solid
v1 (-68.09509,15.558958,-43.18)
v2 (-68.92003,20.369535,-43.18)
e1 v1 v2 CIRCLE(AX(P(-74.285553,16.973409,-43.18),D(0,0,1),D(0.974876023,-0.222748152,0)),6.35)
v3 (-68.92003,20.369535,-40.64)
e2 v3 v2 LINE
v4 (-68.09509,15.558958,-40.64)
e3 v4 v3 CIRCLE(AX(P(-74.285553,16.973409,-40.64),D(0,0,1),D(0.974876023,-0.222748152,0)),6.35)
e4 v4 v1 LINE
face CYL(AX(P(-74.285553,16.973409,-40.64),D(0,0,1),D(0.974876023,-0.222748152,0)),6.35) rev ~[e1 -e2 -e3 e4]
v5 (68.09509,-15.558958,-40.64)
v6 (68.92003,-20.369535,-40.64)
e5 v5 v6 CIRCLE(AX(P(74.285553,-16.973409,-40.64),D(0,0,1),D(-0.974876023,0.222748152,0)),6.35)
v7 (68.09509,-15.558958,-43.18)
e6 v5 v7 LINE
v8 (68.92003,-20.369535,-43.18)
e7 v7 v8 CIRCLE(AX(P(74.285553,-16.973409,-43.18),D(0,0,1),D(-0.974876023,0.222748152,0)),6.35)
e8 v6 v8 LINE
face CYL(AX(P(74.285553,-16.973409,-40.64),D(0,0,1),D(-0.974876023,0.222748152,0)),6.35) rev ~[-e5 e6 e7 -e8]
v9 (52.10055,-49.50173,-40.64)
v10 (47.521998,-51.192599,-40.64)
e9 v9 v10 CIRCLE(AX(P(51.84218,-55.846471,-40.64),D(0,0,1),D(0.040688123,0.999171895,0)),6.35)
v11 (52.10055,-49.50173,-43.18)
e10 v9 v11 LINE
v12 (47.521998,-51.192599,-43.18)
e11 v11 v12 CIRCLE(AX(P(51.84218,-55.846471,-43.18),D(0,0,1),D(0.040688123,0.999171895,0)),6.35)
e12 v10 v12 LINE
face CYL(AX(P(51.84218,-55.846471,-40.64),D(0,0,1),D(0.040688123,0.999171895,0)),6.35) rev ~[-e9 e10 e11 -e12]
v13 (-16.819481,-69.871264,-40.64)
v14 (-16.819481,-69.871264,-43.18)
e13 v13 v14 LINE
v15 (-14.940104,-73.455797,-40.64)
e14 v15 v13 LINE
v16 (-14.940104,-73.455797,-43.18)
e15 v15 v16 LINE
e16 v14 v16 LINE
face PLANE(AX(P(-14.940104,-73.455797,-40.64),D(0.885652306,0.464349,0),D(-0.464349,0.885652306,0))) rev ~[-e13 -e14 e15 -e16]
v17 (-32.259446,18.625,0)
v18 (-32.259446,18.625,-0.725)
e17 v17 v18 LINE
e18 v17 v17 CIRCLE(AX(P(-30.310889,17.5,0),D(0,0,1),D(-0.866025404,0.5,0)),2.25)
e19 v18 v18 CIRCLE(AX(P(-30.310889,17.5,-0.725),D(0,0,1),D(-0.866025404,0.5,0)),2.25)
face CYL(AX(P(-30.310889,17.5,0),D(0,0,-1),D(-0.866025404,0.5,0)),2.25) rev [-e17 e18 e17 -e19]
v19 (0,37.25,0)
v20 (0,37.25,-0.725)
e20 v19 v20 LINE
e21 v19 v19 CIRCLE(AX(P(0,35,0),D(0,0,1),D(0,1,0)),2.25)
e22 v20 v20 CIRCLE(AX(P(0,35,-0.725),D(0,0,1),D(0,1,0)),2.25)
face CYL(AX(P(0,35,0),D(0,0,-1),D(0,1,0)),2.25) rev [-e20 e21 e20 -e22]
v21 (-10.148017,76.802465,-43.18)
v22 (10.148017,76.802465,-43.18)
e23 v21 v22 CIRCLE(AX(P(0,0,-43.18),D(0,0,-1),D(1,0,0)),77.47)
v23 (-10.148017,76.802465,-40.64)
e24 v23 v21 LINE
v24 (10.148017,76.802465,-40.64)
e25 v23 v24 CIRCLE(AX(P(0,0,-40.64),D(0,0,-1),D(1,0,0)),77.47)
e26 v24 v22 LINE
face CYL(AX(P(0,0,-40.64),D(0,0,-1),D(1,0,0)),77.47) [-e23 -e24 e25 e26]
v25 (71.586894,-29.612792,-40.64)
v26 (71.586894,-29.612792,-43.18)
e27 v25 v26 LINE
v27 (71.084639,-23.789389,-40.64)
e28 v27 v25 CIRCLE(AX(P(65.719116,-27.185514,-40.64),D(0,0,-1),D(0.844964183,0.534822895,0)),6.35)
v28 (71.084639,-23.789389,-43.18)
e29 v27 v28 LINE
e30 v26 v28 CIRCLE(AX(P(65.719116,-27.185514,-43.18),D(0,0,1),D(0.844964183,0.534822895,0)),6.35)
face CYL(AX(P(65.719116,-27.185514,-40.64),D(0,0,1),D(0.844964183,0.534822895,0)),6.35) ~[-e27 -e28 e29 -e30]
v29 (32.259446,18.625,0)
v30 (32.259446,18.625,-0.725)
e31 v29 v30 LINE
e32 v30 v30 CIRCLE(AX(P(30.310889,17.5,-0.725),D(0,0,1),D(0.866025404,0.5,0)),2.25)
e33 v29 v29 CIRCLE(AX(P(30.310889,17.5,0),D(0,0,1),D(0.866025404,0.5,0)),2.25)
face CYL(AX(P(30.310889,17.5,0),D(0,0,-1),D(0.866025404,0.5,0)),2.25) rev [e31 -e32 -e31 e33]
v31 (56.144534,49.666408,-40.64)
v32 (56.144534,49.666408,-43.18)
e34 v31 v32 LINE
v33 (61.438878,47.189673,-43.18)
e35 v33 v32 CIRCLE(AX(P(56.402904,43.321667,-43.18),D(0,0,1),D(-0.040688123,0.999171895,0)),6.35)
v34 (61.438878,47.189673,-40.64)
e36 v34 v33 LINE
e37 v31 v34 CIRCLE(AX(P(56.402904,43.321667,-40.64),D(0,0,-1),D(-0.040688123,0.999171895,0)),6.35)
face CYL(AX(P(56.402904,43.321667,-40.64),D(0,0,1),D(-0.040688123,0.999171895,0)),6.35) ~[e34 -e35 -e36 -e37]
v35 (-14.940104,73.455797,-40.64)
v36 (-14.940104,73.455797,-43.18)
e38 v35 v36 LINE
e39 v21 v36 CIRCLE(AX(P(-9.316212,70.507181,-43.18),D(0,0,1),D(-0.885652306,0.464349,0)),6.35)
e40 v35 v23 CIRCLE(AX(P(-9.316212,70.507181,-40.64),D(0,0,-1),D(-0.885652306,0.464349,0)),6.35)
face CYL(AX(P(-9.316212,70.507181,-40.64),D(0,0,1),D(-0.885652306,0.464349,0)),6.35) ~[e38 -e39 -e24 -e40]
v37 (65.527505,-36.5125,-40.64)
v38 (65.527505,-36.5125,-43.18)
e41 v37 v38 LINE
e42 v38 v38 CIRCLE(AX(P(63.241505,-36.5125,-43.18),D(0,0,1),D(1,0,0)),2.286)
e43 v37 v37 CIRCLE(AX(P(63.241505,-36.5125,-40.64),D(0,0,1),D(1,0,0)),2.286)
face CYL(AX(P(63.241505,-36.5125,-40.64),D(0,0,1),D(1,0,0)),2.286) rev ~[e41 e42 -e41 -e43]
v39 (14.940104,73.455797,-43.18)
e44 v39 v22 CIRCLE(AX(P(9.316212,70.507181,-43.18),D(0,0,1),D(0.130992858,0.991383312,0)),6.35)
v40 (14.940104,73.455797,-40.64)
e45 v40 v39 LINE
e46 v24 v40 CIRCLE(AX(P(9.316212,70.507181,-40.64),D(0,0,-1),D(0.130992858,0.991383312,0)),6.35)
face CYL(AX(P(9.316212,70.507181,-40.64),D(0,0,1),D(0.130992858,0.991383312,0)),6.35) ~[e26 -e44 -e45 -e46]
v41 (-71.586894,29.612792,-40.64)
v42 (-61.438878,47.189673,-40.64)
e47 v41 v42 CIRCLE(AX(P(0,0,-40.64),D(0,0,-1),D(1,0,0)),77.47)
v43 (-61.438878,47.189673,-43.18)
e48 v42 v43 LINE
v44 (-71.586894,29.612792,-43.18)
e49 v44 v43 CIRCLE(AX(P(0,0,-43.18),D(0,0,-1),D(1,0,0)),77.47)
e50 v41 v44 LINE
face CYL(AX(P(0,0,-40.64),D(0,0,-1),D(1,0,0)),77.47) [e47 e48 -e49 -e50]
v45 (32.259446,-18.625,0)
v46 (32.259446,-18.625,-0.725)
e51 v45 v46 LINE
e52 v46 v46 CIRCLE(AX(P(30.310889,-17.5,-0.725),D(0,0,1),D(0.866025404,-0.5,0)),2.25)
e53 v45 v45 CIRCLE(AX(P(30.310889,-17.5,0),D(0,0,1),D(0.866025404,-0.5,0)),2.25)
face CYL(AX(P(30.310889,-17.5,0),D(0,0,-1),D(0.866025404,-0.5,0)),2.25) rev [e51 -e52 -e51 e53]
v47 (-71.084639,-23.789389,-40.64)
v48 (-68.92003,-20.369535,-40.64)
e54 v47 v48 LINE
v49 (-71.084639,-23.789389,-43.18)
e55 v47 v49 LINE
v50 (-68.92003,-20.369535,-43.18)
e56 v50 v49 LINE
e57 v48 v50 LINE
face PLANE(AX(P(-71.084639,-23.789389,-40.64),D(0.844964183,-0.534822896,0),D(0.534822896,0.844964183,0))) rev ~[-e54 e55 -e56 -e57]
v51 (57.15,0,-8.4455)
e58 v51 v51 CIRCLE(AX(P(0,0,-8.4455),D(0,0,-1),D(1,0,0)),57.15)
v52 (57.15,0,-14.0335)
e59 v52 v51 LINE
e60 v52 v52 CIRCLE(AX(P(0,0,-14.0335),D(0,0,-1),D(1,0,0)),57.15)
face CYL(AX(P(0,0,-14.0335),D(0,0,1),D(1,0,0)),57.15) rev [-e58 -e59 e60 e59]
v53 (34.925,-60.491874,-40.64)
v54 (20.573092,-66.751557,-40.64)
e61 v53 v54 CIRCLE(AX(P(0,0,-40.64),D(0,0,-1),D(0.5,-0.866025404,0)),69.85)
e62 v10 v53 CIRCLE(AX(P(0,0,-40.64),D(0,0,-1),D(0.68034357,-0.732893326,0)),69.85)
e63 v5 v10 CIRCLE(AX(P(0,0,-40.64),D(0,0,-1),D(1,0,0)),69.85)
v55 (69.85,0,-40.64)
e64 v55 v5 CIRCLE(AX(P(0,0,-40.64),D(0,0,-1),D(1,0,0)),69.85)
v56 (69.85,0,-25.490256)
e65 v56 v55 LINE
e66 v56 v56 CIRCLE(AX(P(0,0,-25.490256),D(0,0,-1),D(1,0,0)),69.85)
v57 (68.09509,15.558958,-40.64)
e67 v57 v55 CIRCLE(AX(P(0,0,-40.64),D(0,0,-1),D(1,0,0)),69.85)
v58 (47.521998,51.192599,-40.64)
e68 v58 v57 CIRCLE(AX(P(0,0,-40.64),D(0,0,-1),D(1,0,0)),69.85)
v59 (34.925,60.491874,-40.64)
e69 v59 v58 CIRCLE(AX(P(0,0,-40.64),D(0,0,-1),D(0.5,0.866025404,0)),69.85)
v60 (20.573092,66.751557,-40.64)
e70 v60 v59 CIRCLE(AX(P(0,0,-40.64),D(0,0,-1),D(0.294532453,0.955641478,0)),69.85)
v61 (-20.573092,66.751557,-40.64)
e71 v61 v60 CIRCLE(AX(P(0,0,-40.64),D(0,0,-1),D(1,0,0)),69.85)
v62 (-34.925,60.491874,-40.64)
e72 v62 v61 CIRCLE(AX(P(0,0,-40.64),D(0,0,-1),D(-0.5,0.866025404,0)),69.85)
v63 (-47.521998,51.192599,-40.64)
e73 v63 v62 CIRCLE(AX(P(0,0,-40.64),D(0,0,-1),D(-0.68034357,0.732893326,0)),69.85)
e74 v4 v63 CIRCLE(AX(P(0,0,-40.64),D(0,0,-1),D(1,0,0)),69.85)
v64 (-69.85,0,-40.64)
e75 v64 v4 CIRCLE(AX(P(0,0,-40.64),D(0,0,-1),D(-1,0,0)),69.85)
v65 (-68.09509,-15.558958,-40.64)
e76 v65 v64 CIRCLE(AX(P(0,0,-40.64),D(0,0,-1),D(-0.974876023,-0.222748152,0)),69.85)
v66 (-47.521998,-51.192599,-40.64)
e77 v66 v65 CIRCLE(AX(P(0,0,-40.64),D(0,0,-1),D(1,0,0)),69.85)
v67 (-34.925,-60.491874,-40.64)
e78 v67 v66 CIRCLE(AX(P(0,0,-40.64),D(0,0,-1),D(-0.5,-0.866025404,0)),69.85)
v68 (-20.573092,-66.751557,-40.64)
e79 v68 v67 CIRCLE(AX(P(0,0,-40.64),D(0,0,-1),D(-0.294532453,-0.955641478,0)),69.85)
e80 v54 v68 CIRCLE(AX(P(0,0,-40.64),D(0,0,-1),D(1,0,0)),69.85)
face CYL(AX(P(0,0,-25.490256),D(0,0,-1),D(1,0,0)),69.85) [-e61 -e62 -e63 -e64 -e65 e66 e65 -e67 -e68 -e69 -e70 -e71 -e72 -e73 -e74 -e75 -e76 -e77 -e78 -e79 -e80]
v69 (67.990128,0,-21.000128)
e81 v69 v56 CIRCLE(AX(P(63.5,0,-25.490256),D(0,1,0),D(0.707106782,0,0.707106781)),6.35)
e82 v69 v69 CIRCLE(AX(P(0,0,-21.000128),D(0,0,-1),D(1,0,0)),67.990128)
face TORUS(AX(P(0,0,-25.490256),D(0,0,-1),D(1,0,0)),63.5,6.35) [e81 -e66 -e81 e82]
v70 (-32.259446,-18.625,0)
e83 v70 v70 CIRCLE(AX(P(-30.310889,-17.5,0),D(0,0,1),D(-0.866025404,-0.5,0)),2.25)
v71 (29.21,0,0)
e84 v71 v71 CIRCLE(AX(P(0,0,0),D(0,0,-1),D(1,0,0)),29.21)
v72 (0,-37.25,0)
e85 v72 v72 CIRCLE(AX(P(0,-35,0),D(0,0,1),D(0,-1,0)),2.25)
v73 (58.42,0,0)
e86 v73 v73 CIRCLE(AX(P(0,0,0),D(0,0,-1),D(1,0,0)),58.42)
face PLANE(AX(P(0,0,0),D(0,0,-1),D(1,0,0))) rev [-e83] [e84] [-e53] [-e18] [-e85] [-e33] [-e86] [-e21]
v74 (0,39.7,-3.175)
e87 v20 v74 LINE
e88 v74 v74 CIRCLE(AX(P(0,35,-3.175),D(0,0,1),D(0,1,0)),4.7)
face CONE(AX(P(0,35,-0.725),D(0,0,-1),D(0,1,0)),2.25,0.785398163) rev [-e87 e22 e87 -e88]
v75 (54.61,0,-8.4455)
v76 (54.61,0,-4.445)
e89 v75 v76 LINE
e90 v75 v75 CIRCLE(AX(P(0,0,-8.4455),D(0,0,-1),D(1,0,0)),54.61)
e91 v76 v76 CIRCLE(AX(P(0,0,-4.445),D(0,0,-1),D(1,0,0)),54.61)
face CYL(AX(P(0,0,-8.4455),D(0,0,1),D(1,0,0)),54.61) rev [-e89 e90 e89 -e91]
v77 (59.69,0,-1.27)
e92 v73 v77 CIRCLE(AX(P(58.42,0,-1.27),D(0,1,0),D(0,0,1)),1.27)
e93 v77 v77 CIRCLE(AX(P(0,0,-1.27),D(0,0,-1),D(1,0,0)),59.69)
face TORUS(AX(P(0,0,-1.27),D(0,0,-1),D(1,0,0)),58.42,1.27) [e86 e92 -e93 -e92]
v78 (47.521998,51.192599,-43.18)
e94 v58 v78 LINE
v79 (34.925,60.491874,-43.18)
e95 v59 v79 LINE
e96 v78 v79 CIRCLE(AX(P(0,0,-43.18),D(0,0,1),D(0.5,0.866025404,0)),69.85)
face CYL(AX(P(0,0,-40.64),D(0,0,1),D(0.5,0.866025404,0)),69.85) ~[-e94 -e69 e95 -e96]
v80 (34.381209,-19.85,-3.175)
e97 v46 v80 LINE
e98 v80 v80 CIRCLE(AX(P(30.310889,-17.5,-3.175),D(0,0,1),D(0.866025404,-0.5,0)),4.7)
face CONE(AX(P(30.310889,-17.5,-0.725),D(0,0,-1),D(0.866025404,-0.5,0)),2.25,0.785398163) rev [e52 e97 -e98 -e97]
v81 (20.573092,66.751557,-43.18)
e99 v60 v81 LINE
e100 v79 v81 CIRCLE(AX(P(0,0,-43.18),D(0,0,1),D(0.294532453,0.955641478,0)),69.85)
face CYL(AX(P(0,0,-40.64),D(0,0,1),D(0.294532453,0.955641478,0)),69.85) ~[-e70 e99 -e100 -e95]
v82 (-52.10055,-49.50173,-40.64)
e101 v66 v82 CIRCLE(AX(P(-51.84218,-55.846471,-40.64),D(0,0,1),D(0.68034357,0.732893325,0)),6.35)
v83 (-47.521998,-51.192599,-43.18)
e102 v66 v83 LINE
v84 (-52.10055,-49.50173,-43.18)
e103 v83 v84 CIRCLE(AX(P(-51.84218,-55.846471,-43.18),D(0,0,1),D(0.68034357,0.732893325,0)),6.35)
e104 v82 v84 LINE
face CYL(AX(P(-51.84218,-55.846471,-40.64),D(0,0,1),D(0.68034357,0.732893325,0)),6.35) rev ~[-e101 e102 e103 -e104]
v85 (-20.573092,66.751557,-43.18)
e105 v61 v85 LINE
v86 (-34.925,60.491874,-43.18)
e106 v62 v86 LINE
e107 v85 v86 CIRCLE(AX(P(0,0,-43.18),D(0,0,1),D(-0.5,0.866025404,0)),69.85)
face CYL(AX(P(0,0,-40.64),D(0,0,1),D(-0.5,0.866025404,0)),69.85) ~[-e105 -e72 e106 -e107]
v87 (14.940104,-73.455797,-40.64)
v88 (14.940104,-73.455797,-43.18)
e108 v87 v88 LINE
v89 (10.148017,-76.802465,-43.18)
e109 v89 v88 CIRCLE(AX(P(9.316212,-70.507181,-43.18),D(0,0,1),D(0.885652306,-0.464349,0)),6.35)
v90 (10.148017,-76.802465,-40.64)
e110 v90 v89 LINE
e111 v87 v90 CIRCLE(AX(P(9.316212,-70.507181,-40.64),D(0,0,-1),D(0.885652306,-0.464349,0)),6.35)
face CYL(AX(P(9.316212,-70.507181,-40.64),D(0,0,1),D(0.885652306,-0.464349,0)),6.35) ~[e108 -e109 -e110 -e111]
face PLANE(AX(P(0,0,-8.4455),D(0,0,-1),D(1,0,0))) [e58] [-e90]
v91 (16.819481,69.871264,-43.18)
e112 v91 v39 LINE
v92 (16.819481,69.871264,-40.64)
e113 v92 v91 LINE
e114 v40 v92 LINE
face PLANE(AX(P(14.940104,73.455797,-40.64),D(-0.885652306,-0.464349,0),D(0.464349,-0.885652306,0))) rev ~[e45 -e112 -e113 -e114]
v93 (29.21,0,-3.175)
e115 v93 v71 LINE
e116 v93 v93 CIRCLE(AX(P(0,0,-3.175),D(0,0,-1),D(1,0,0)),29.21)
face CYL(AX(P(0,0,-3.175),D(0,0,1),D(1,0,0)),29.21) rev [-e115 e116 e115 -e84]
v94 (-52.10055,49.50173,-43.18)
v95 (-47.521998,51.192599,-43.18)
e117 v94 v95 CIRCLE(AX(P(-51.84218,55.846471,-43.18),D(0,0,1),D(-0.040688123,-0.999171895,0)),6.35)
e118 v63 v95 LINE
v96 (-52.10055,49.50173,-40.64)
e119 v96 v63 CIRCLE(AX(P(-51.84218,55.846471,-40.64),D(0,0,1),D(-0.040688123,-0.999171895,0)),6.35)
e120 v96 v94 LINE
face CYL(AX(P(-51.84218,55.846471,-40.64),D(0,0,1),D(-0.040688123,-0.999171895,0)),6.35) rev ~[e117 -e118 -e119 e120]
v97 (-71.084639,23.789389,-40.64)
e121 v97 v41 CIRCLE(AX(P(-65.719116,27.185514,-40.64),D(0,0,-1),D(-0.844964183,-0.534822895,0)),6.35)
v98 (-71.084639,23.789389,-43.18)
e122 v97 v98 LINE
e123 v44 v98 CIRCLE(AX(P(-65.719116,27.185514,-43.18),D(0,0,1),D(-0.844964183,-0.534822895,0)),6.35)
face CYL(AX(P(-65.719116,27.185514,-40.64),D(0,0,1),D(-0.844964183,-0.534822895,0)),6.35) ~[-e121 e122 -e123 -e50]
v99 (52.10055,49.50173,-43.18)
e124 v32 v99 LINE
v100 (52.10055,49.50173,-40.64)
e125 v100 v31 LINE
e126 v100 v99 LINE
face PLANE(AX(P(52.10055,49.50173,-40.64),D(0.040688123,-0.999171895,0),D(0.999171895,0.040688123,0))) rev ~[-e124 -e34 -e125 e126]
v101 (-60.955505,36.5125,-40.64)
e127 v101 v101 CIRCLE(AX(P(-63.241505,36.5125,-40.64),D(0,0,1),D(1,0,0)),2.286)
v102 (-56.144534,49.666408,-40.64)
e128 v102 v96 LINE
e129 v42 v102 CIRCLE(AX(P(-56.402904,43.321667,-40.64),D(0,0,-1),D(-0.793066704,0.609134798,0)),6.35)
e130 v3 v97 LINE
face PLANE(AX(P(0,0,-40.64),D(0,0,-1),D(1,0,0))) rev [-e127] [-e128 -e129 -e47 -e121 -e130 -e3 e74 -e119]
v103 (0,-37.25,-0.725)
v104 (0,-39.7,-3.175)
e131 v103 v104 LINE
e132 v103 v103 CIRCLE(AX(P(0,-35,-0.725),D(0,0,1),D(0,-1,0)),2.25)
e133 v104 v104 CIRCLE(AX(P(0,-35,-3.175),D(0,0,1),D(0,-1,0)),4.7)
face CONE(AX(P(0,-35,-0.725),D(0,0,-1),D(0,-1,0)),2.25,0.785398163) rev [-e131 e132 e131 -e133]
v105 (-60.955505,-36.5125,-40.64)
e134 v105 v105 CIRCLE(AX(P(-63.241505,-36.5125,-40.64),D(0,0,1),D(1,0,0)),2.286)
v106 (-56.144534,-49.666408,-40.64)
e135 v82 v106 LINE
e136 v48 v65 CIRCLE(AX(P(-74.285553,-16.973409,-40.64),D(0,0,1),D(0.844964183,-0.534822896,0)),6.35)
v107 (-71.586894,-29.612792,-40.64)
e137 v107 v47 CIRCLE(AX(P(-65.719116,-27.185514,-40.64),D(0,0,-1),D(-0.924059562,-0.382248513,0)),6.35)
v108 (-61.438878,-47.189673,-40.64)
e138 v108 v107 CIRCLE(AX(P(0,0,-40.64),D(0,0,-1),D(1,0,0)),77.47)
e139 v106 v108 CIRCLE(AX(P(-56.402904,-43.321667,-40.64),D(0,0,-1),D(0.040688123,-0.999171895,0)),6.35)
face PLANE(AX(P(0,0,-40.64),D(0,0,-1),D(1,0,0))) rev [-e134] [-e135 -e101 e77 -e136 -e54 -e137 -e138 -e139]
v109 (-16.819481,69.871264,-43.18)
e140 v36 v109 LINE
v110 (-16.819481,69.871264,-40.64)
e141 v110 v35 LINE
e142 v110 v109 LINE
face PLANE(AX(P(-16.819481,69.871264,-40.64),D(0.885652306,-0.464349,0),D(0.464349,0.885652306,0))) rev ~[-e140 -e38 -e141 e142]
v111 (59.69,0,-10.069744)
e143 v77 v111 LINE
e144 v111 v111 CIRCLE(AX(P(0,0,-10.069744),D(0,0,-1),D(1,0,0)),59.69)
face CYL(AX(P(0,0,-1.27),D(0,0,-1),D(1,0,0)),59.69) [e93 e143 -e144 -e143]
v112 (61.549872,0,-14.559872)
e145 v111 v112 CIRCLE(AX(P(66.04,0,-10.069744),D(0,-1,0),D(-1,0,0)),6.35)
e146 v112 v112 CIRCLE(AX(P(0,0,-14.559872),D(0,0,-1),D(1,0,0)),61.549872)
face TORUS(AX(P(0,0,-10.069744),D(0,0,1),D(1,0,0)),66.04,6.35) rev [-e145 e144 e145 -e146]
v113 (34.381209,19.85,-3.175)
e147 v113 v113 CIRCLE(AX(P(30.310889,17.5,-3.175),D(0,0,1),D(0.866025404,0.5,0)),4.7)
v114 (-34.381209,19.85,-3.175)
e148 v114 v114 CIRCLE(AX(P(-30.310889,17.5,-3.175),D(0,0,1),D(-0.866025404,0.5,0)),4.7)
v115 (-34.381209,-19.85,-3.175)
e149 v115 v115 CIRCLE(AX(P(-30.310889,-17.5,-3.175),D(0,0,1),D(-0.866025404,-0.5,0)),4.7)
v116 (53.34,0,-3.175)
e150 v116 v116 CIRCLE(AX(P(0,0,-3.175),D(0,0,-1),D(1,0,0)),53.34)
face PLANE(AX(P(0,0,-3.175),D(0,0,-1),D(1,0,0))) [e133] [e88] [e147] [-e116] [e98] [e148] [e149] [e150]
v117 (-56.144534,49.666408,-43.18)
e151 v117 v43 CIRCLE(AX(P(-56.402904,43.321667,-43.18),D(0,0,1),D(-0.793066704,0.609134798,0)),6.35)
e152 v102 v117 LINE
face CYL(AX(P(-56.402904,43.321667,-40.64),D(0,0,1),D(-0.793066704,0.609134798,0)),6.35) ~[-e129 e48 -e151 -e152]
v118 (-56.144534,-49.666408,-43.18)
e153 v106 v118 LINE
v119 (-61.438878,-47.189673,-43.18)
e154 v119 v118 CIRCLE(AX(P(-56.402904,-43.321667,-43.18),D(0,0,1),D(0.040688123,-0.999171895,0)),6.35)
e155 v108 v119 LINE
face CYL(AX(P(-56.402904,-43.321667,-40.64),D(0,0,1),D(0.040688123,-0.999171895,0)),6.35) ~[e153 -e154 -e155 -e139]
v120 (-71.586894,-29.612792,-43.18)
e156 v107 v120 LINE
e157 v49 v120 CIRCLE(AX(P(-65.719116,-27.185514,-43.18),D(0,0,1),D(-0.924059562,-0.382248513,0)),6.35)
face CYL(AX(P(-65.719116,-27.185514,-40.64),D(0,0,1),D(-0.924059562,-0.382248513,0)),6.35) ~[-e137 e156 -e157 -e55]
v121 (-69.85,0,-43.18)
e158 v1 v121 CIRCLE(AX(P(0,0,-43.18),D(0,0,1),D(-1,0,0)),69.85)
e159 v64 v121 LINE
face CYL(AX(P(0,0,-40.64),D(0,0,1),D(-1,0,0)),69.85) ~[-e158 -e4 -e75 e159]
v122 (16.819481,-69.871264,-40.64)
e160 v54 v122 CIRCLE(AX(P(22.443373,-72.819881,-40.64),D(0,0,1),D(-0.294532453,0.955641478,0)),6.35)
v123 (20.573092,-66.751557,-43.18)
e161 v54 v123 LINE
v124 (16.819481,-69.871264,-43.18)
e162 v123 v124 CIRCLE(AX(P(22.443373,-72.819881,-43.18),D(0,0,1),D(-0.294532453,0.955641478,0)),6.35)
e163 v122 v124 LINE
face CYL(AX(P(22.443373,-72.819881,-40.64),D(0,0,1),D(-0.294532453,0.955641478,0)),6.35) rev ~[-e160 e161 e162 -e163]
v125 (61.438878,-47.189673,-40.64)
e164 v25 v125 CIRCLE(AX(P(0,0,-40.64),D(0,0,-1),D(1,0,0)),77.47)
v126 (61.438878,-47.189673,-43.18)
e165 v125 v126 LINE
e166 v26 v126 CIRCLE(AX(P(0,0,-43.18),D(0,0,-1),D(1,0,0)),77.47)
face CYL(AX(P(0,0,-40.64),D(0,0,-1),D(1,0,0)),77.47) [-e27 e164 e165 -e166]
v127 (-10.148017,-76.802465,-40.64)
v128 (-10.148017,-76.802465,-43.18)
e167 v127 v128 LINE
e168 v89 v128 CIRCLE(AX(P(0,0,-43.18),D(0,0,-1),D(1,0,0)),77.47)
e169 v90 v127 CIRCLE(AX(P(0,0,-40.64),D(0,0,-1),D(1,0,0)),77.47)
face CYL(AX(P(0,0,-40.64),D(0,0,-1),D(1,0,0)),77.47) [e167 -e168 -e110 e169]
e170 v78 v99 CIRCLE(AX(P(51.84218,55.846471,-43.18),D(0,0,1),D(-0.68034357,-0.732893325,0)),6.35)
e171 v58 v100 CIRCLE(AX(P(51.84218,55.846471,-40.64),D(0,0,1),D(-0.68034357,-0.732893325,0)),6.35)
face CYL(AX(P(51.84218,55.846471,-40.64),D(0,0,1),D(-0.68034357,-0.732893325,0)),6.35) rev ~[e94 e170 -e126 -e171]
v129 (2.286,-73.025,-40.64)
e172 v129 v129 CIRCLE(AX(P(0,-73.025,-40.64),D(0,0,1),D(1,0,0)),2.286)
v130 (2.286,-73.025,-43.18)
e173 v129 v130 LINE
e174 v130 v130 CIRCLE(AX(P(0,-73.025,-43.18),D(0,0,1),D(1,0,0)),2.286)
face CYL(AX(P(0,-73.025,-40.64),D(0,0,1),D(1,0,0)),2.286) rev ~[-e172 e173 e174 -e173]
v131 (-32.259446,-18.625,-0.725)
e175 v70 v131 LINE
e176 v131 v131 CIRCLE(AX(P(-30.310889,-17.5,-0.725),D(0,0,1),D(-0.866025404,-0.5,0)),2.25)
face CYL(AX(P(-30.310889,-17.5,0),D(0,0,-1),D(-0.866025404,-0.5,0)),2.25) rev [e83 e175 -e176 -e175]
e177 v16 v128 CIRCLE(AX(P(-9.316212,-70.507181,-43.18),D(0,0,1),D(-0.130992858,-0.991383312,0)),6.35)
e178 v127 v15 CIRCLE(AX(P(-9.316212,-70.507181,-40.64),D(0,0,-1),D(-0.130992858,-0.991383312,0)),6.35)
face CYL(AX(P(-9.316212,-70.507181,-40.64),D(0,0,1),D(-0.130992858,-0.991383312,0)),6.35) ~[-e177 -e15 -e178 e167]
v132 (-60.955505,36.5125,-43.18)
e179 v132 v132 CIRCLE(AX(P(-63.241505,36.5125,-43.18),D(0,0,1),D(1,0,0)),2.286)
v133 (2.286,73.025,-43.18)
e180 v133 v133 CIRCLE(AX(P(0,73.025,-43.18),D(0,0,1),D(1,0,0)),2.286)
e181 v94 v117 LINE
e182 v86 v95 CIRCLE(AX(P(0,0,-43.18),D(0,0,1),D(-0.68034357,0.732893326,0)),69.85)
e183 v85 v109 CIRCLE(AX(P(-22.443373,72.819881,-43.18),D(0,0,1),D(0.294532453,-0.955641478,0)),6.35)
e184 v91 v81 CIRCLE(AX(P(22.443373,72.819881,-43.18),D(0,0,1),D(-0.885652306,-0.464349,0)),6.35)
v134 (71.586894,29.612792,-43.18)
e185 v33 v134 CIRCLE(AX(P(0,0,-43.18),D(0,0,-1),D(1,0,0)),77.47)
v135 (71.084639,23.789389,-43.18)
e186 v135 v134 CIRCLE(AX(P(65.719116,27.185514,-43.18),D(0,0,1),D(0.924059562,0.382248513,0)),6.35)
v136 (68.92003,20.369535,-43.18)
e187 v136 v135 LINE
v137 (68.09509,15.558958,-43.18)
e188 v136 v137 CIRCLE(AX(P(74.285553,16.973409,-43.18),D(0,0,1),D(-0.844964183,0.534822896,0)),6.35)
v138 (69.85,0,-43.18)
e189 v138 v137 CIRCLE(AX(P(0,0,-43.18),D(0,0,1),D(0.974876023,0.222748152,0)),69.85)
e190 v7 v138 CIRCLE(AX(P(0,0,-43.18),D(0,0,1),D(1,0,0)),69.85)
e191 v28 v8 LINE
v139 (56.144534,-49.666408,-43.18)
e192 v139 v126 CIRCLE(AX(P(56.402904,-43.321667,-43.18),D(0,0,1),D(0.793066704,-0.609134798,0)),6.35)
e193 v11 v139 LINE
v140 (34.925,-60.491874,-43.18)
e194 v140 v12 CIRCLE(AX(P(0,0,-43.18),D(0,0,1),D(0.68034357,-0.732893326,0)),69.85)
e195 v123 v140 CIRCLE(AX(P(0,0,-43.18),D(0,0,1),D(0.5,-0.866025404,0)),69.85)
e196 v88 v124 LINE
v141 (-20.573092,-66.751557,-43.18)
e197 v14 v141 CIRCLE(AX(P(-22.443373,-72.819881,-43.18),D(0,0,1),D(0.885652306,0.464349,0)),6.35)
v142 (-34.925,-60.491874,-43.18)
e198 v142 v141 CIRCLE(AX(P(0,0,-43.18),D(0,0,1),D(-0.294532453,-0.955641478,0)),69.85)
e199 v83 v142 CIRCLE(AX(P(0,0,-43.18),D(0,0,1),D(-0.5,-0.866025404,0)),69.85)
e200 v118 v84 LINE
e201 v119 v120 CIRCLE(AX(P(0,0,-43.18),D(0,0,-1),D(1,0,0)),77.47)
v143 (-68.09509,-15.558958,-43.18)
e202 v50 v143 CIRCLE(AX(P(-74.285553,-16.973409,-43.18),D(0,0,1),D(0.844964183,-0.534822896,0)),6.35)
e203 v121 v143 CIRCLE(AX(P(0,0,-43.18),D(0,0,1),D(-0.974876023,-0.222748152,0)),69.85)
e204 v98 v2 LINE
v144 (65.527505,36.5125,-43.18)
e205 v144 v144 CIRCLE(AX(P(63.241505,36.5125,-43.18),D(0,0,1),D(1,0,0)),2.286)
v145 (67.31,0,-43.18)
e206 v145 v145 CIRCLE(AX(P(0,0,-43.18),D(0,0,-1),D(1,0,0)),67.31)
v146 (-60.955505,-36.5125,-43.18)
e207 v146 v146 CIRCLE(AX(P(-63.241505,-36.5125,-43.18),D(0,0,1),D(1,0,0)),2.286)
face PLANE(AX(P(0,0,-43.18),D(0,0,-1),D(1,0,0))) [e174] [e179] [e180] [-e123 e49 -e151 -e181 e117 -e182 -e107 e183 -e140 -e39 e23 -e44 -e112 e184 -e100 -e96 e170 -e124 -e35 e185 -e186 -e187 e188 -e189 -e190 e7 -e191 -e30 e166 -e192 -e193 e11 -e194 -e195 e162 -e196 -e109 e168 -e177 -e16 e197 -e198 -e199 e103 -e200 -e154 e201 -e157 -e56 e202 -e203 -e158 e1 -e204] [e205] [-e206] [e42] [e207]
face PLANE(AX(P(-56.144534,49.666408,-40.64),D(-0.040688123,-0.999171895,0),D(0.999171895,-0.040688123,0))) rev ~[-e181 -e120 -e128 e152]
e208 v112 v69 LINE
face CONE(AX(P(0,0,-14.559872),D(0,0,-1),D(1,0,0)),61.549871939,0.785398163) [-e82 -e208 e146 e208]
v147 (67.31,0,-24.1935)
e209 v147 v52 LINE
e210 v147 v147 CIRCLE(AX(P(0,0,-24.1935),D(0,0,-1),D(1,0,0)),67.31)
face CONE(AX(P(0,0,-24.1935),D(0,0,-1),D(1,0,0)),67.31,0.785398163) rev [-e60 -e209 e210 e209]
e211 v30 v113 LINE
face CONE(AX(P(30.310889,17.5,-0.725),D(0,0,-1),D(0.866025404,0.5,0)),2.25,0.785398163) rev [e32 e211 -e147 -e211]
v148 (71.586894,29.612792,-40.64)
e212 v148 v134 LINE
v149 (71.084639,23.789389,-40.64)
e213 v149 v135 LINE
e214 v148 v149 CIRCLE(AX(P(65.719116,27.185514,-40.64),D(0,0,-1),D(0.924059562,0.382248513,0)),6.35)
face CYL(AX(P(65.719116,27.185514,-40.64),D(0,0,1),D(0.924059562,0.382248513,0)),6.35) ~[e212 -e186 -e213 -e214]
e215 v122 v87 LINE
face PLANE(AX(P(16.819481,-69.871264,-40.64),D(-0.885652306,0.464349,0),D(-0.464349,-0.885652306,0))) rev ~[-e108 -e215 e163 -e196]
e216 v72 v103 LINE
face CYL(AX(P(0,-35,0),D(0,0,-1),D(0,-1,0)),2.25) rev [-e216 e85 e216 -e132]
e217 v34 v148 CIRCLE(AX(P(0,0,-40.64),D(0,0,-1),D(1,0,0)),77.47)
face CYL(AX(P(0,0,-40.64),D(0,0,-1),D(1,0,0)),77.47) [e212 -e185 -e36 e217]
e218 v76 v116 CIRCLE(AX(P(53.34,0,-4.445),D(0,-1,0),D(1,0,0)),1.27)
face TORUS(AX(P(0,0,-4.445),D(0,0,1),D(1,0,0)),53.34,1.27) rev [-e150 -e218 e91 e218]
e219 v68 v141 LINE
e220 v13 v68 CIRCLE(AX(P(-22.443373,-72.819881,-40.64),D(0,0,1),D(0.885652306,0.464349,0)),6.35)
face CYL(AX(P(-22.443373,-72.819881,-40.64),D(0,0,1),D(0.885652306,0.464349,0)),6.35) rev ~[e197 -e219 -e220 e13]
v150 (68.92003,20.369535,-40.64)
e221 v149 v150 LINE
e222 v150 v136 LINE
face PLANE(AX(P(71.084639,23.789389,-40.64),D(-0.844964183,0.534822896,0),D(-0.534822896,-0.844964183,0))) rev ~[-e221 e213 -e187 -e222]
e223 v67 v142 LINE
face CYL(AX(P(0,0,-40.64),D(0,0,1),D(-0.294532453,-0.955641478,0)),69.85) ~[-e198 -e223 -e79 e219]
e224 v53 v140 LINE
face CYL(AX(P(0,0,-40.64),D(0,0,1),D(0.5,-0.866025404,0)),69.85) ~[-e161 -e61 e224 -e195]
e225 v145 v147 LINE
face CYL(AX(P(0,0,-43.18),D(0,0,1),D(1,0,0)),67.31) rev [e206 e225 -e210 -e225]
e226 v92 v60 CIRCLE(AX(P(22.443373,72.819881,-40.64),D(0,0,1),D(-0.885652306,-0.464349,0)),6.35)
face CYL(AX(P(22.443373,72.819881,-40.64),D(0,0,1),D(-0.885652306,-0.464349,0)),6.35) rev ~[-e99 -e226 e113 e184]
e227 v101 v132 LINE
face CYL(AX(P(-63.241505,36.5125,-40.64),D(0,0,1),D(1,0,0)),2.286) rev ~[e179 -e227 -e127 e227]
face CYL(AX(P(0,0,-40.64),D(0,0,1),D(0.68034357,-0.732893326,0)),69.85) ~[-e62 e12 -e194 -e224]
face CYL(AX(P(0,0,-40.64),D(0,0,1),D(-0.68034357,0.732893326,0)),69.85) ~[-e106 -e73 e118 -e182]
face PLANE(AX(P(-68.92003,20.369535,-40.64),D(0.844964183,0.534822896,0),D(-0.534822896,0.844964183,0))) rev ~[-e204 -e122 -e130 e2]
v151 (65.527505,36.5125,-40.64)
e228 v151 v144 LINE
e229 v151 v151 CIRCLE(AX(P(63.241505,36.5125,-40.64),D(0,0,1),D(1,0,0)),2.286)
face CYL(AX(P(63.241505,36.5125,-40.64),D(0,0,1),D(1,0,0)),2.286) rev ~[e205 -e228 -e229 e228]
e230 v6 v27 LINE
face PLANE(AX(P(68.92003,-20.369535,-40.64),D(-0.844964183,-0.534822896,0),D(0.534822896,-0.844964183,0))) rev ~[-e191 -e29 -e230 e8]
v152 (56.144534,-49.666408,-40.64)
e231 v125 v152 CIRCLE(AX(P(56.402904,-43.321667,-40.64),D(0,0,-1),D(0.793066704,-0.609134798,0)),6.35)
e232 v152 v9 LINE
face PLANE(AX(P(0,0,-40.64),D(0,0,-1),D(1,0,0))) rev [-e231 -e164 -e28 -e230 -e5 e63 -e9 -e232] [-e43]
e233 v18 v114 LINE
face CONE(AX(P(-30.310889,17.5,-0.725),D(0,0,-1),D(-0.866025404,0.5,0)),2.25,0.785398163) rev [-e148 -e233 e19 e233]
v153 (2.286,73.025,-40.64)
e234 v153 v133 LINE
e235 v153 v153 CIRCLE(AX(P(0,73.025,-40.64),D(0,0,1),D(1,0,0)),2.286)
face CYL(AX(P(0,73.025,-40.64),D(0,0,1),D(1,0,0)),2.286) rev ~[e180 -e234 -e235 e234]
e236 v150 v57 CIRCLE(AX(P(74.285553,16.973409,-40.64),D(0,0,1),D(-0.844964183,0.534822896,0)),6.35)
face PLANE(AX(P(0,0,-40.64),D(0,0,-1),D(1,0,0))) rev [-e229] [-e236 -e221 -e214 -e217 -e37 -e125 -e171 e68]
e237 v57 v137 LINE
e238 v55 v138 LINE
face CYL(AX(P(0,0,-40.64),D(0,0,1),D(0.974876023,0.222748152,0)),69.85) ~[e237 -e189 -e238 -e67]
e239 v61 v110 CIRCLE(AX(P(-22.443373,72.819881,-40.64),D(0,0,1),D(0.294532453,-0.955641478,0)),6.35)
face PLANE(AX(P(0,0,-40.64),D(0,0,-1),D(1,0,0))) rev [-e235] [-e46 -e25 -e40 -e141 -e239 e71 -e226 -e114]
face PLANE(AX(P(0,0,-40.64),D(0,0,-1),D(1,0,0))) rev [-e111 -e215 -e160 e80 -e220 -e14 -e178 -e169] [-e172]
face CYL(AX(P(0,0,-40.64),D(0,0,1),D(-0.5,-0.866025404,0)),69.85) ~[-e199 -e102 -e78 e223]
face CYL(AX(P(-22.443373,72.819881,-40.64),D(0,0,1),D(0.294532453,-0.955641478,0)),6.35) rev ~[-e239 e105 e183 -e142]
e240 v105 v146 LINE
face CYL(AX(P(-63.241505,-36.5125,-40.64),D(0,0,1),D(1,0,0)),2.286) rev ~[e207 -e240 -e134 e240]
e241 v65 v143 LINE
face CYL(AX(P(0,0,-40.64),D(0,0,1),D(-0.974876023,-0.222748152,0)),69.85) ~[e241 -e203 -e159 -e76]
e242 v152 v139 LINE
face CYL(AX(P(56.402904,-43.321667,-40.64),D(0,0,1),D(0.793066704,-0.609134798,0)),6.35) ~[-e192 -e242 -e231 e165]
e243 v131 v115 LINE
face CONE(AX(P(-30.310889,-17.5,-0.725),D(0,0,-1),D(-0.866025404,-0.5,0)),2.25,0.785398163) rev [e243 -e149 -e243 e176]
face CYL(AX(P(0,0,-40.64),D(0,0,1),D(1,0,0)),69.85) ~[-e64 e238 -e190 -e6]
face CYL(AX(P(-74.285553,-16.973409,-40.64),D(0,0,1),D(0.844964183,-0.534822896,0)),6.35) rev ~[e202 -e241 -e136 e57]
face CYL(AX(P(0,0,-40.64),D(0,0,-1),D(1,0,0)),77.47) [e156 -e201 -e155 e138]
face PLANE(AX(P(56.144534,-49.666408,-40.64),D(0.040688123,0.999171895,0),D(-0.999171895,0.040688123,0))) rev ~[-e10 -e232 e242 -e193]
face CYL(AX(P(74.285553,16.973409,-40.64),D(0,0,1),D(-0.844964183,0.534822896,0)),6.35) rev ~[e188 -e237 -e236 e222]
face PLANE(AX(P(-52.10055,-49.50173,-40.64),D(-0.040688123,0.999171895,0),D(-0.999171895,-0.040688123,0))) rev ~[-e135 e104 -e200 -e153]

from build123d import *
from build123d.topology import SkipClean

# Parameters (mm, degrees)
CIRPATTERN2_COUNT  = 6
SKETCH8_R          = 2.286
CUT_EXTRUDE1_DEPTH = 117.853803532


with BuildPart() as part:
    # Sketch3 → Revolve1 (revolve)
    with BuildSketch(Plane(origin=(0, 0, 0), x_dir=(0, 0, -1), z_dir=(1, 0, 0)), mode=Mode.PRIVATE) as revolve1_sk:
        with BuildLine():
            Line((0, 29.21), (0, 58.42))
            ThreePointArc((0, 58.42), (0.371974388, 59.318025612), (1.27, 59.69))
            Line((1.27, 59.69), (10.069743879, 59.69))
            ThreePointArc((10.069743879, 59.69), (12.499783674, 60.173364969), (14.559871939, 61.549871939))
            Line((14.559871939, 61.549871939), (21.000128061, 67.990128061))
            ThreePointArc((21.000128061, 67.990128061), (23.060216326, 69.366635031), (25.490256121, 69.85))
            Line((25.490256121, 69.85), (40.64, 69.85))
            Line((40.64, 69.85), (40.64, 77.47))
            Line((40.64, 77.47), (43.18, 77.47))
            Line((43.18, 77.47), (43.18, 67.31))
            Line((43.18, 67.31), (24.1935, 67.31))
            Line((24.1935, 67.31), (14.0335, 57.15))
            Line((14.0335, 57.15), (8.4455, 57.15))
            Line((8.4455, 57.15), (8.4455, 54.61))
            Line((8.4455, 54.61), (4.445, 54.61))
            ThreePointArc((4.445, 54.61), (3.546974388, 54.238025612), (3.175, 53.34))
            Line((3.175, 53.34), (3.175, 29.21))
            Line((3.175, 29.21), (0, 29.21))
        make_face()
    revolve(revolve1_sk.sketch.rotate(Axis((0, 0, 0), (0, 0, -1)), 90), axis=Axis((0, 0, 0), (0, 0, -1)))

    # Sketch7 → CSK for M4 Countersunk Flat Head Screw2 (revolve, cut)
    with BuildSketch(Plane(origin=(0, 35, -3.175), x_dir=(0, 1, 0), z_dir=(1, 0, 0))):
        Polygon((0, 0), (0, 4.526936393), (2.25, 3.175), (2.25, 2.45), (4.7, 0), align=None)
    csk_for_m4_countersunk_flat_head_screw2 = revolve(axis=Axis((0, 35, -9.525), (0, 0, 1)), mode=Mode.SUBTRACT)

    # CirPattern2: CSK for M4 Countersunk Flat Head Screw2 ×6 about axis
    cirpattern2_axis = Axis((0, 0, 0), (0, 0, 1))
    for i in range(1, CIRPATTERN2_COUNT):
        add(csk_for_m4_countersunk_flat_head_screw2.rotate(cirpattern2_axis, i * 360 / CIRPATTERN2_COUNT), mode=Mode.SUBTRACT)

    # Sketch8 → Cut-Extrude1 (cut, through all)
    with SkipClean():  # the faces are left unmerged after this step: merging them gives an invalid solid
        with BuildSketch(Plane.XY.offset(-40.64)):
            with BuildLine():
                ThreePointArc((77.47, 0), (75.984990618, 15.095764333), (71.586894261, 29.612792338))
                ThreePointArc((71.586894261, 29.612792338), (72.045629184, 26.639866522), (71.084638604, 23.789388889))
                Line((71.084638604, 23.789388889), (68.920030414, 20.36953457))
                ThreePointArc((68.920030414, 20.36953457), (68.026910163, 18.04667064), (68.095090227, 15.558958417))
                ThreePointArc((68.095090227, 15.558958417), (69.409886012, 7.828807306), (69.85, 0))
                ThreePointArc((69.85, 0), (69.409886012, -7.828807306), (68.095090227, -15.558958417))
                ThreePointArc((68.095090227, -15.558958417), (68.026910163, -18.04667064), (68.920030414, -20.36953457))
                Line((68.920030414, -20.36953457), (71.084638604, -23.789388889))
                ThreePointArc((71.084638604, -23.789388889), (72.045629184, -26.639866522), (71.586894261, -29.612792338))
                ThreePointArc((71.586894261, -29.612792338), (75.984990618, -15.095764333), (77.47, 0))
            make_face()
            with BuildLine():
                ThreePointArc((10.148016689, -76.802465177), (38.735, -67.090988031), (61.438877572, -47.189672839))
                ThreePointArc((61.438877572, -47.189672839), (59.093615754, -49.073411844), (56.14453442, -49.666408405))
                Line((56.14453442, -49.666408405), (52.100549608, -49.501729883))
                ThreePointArc((52.100549608, -49.501729883), (49.642330309, -49.889697022), (47.521998359, -51.192598801))
                ThreePointArc((47.521998359, -51.192598801), (41.484889014, -56.196320907), (34.925, -60.491874454))
                ThreePointArc((34.925, -60.491874454), (27.924996998, -64.025128213), (20.573091868, -66.751557218))
                ThreePointArc((20.573091868, -66.751557218), (18.384579854, -67.936367662), (16.819480806, -69.871264453))
                Line((16.819480806, -69.871264453), (14.940104183, -73.455797294))
                ThreePointArc((14.940104183, -73.455797294), (12.952013431, -75.713278366), (10.148016689, -76.802465177))
            make_face()
            with BuildLine():
                ThreePointArc((-56.14453442, -49.666408405), (-59.093615754, -49.073411844), (-61.438877572, -47.189672839))
                ThreePointArc((-61.438877572, -47.189672839), (-38.735, -67.090988031), (-10.148016689, -76.802465177))
                ThreePointArc((-10.148016689, -76.802465177), (-12.952013431, -75.713278366), (-14.940104183, -73.455797294))
                Line((-14.940104183, -73.455797294), (-16.819480806, -69.871264453))
                ThreePointArc((-16.819480806, -69.871264453), (-18.384579854, -67.936367662), (-20.573091868, -66.751557218))
                ThreePointArc((-20.573091868, -66.751557218), (-27.924996998, -64.025128213), (-34.925, -60.491874454))
                ThreePointArc((-34.925, -60.491874454), (-41.484889014, -56.196320907), (-47.521998359, -51.192598801))
                ThreePointArc((-47.521998359, -51.192598801), (-49.642330309, -49.889697022), (-52.100549608, -49.501729883))
                Line((-52.100549608, -49.501729883), (-56.14453442, -49.666408405))
            make_face()
            with BuildLine():
                ThreePointArc((-71.084638604, 23.789388889), (-72.045629184, 26.639866522), (-71.586894261, 29.612792338))
                ThreePointArc((-71.586894261, 29.612792338), (-77.47, 0), (-71.586894261, -29.612792338))
                ThreePointArc((-71.586894261, -29.612792338), (-72.045629184, -26.639866522), (-71.084638604, -23.789388889))
                Line((-71.084638604, -23.789388889), (-68.920030414, -20.36953457))
                ThreePointArc((-68.920030414, -20.36953457), (-68.026910163, -18.04667064), (-68.095090227, -15.558958417))
                ThreePointArc((-68.095090227, -15.558958417), (-69.409886012, -7.828807306), (-69.85, 0))
                ThreePointArc((-69.85, 0), (-69.409886012, 7.828807306), (-68.095090227, 15.558958417))
                ThreePointArc((-68.095090227, 15.558958417), (-68.026910163, 18.04667064), (-68.920030414, 20.36953457))
                Line((-68.920030414, 20.36953457), (-71.084638604, 23.789388889))
            make_face()
            with BuildLine():
                ThreePointArc((-14.940104183, 73.455797294), (-12.952013431, 75.713278366), (-10.148016689, 76.802465177))
                ThreePointArc((-10.148016689, 76.802465177), (-38.735, 67.090988031), (-61.438877572, 47.189672839))
                ThreePointArc((-61.438877572, 47.189672839), (-59.093615754, 49.073411844), (-56.14453442, 49.666408405))
                Line((-56.14453442, 49.666408405), (-52.100549608, 49.501729883))
                ThreePointArc((-52.100549608, 49.501729883), (-49.642330309, 49.889697022), (-47.521998359, 51.192598801))
                ThreePointArc((-47.521998359, 51.192598801), (-41.484889014, 56.196320907), (-34.925, 60.491874454))
                ThreePointArc((-34.925, 60.491874454), (-27.924996998, 64.025128213), (-20.573091868, 66.751557218))
                ThreePointArc((-20.573091868, 66.751557218), (-18.384579854, 67.936367662), (-16.819480806, 69.871264453))
                Line((-16.819480806, 69.871264453), (-14.940104183, 73.455797294))
            make_face()
            with BuildLine():
                ThreePointArc((10.148016689, 76.802465177), (12.952013431, 75.713278366), (14.940104183, 73.455797294))
                Line((14.940104183, 73.455797294), (16.819480806, 69.871264453))
                ThreePointArc((16.819480806, 69.871264453), (18.384579854, 67.936367662), (20.573091868, 66.751557218))
                ThreePointArc((20.573091868, 66.751557218), (27.924996998, 64.025128213), (34.925, 60.491874454))
                ThreePointArc((34.925, 60.491874454), (41.484889014, 56.196320907), (47.521998359, 51.192598801))
                ThreePointArc((47.521998359, 51.192598801), (49.642330309, 49.889697022), (52.100549608, 49.501729883))
                Line((52.100549608, 49.501729883), (56.14453442, 49.666408405))
                ThreePointArc((56.14453442, 49.666408405), (59.093615754, 49.073411844), (61.438877572, 47.189672839))
                ThreePointArc((61.438877572, 47.189672839), (38.735, 67.090988031), (10.148016689, 76.802465177))
            make_face()
            with Locations((0, 73.025)):
                Circle(SKETCH8_R)
            with Locations((63.241505111, 36.5125)):
                Circle(SKETCH8_R)
            with Locations((-63.241505111, 36.5125)):
                Circle(SKETCH8_R)
            with Locations((-63.241505111, -36.5125)):
                Circle(SKETCH8_R)
            with Locations((63.241505111, -36.5125)):
                Circle(SKETCH8_R)
            with Locations((0, -73.025)):
                Circle(SKETCH8_R)
        extrude(amount=-CUT_EXTRUDE1_DEPTH, mode=Mode.SUBTRACT)


solid = part.part
